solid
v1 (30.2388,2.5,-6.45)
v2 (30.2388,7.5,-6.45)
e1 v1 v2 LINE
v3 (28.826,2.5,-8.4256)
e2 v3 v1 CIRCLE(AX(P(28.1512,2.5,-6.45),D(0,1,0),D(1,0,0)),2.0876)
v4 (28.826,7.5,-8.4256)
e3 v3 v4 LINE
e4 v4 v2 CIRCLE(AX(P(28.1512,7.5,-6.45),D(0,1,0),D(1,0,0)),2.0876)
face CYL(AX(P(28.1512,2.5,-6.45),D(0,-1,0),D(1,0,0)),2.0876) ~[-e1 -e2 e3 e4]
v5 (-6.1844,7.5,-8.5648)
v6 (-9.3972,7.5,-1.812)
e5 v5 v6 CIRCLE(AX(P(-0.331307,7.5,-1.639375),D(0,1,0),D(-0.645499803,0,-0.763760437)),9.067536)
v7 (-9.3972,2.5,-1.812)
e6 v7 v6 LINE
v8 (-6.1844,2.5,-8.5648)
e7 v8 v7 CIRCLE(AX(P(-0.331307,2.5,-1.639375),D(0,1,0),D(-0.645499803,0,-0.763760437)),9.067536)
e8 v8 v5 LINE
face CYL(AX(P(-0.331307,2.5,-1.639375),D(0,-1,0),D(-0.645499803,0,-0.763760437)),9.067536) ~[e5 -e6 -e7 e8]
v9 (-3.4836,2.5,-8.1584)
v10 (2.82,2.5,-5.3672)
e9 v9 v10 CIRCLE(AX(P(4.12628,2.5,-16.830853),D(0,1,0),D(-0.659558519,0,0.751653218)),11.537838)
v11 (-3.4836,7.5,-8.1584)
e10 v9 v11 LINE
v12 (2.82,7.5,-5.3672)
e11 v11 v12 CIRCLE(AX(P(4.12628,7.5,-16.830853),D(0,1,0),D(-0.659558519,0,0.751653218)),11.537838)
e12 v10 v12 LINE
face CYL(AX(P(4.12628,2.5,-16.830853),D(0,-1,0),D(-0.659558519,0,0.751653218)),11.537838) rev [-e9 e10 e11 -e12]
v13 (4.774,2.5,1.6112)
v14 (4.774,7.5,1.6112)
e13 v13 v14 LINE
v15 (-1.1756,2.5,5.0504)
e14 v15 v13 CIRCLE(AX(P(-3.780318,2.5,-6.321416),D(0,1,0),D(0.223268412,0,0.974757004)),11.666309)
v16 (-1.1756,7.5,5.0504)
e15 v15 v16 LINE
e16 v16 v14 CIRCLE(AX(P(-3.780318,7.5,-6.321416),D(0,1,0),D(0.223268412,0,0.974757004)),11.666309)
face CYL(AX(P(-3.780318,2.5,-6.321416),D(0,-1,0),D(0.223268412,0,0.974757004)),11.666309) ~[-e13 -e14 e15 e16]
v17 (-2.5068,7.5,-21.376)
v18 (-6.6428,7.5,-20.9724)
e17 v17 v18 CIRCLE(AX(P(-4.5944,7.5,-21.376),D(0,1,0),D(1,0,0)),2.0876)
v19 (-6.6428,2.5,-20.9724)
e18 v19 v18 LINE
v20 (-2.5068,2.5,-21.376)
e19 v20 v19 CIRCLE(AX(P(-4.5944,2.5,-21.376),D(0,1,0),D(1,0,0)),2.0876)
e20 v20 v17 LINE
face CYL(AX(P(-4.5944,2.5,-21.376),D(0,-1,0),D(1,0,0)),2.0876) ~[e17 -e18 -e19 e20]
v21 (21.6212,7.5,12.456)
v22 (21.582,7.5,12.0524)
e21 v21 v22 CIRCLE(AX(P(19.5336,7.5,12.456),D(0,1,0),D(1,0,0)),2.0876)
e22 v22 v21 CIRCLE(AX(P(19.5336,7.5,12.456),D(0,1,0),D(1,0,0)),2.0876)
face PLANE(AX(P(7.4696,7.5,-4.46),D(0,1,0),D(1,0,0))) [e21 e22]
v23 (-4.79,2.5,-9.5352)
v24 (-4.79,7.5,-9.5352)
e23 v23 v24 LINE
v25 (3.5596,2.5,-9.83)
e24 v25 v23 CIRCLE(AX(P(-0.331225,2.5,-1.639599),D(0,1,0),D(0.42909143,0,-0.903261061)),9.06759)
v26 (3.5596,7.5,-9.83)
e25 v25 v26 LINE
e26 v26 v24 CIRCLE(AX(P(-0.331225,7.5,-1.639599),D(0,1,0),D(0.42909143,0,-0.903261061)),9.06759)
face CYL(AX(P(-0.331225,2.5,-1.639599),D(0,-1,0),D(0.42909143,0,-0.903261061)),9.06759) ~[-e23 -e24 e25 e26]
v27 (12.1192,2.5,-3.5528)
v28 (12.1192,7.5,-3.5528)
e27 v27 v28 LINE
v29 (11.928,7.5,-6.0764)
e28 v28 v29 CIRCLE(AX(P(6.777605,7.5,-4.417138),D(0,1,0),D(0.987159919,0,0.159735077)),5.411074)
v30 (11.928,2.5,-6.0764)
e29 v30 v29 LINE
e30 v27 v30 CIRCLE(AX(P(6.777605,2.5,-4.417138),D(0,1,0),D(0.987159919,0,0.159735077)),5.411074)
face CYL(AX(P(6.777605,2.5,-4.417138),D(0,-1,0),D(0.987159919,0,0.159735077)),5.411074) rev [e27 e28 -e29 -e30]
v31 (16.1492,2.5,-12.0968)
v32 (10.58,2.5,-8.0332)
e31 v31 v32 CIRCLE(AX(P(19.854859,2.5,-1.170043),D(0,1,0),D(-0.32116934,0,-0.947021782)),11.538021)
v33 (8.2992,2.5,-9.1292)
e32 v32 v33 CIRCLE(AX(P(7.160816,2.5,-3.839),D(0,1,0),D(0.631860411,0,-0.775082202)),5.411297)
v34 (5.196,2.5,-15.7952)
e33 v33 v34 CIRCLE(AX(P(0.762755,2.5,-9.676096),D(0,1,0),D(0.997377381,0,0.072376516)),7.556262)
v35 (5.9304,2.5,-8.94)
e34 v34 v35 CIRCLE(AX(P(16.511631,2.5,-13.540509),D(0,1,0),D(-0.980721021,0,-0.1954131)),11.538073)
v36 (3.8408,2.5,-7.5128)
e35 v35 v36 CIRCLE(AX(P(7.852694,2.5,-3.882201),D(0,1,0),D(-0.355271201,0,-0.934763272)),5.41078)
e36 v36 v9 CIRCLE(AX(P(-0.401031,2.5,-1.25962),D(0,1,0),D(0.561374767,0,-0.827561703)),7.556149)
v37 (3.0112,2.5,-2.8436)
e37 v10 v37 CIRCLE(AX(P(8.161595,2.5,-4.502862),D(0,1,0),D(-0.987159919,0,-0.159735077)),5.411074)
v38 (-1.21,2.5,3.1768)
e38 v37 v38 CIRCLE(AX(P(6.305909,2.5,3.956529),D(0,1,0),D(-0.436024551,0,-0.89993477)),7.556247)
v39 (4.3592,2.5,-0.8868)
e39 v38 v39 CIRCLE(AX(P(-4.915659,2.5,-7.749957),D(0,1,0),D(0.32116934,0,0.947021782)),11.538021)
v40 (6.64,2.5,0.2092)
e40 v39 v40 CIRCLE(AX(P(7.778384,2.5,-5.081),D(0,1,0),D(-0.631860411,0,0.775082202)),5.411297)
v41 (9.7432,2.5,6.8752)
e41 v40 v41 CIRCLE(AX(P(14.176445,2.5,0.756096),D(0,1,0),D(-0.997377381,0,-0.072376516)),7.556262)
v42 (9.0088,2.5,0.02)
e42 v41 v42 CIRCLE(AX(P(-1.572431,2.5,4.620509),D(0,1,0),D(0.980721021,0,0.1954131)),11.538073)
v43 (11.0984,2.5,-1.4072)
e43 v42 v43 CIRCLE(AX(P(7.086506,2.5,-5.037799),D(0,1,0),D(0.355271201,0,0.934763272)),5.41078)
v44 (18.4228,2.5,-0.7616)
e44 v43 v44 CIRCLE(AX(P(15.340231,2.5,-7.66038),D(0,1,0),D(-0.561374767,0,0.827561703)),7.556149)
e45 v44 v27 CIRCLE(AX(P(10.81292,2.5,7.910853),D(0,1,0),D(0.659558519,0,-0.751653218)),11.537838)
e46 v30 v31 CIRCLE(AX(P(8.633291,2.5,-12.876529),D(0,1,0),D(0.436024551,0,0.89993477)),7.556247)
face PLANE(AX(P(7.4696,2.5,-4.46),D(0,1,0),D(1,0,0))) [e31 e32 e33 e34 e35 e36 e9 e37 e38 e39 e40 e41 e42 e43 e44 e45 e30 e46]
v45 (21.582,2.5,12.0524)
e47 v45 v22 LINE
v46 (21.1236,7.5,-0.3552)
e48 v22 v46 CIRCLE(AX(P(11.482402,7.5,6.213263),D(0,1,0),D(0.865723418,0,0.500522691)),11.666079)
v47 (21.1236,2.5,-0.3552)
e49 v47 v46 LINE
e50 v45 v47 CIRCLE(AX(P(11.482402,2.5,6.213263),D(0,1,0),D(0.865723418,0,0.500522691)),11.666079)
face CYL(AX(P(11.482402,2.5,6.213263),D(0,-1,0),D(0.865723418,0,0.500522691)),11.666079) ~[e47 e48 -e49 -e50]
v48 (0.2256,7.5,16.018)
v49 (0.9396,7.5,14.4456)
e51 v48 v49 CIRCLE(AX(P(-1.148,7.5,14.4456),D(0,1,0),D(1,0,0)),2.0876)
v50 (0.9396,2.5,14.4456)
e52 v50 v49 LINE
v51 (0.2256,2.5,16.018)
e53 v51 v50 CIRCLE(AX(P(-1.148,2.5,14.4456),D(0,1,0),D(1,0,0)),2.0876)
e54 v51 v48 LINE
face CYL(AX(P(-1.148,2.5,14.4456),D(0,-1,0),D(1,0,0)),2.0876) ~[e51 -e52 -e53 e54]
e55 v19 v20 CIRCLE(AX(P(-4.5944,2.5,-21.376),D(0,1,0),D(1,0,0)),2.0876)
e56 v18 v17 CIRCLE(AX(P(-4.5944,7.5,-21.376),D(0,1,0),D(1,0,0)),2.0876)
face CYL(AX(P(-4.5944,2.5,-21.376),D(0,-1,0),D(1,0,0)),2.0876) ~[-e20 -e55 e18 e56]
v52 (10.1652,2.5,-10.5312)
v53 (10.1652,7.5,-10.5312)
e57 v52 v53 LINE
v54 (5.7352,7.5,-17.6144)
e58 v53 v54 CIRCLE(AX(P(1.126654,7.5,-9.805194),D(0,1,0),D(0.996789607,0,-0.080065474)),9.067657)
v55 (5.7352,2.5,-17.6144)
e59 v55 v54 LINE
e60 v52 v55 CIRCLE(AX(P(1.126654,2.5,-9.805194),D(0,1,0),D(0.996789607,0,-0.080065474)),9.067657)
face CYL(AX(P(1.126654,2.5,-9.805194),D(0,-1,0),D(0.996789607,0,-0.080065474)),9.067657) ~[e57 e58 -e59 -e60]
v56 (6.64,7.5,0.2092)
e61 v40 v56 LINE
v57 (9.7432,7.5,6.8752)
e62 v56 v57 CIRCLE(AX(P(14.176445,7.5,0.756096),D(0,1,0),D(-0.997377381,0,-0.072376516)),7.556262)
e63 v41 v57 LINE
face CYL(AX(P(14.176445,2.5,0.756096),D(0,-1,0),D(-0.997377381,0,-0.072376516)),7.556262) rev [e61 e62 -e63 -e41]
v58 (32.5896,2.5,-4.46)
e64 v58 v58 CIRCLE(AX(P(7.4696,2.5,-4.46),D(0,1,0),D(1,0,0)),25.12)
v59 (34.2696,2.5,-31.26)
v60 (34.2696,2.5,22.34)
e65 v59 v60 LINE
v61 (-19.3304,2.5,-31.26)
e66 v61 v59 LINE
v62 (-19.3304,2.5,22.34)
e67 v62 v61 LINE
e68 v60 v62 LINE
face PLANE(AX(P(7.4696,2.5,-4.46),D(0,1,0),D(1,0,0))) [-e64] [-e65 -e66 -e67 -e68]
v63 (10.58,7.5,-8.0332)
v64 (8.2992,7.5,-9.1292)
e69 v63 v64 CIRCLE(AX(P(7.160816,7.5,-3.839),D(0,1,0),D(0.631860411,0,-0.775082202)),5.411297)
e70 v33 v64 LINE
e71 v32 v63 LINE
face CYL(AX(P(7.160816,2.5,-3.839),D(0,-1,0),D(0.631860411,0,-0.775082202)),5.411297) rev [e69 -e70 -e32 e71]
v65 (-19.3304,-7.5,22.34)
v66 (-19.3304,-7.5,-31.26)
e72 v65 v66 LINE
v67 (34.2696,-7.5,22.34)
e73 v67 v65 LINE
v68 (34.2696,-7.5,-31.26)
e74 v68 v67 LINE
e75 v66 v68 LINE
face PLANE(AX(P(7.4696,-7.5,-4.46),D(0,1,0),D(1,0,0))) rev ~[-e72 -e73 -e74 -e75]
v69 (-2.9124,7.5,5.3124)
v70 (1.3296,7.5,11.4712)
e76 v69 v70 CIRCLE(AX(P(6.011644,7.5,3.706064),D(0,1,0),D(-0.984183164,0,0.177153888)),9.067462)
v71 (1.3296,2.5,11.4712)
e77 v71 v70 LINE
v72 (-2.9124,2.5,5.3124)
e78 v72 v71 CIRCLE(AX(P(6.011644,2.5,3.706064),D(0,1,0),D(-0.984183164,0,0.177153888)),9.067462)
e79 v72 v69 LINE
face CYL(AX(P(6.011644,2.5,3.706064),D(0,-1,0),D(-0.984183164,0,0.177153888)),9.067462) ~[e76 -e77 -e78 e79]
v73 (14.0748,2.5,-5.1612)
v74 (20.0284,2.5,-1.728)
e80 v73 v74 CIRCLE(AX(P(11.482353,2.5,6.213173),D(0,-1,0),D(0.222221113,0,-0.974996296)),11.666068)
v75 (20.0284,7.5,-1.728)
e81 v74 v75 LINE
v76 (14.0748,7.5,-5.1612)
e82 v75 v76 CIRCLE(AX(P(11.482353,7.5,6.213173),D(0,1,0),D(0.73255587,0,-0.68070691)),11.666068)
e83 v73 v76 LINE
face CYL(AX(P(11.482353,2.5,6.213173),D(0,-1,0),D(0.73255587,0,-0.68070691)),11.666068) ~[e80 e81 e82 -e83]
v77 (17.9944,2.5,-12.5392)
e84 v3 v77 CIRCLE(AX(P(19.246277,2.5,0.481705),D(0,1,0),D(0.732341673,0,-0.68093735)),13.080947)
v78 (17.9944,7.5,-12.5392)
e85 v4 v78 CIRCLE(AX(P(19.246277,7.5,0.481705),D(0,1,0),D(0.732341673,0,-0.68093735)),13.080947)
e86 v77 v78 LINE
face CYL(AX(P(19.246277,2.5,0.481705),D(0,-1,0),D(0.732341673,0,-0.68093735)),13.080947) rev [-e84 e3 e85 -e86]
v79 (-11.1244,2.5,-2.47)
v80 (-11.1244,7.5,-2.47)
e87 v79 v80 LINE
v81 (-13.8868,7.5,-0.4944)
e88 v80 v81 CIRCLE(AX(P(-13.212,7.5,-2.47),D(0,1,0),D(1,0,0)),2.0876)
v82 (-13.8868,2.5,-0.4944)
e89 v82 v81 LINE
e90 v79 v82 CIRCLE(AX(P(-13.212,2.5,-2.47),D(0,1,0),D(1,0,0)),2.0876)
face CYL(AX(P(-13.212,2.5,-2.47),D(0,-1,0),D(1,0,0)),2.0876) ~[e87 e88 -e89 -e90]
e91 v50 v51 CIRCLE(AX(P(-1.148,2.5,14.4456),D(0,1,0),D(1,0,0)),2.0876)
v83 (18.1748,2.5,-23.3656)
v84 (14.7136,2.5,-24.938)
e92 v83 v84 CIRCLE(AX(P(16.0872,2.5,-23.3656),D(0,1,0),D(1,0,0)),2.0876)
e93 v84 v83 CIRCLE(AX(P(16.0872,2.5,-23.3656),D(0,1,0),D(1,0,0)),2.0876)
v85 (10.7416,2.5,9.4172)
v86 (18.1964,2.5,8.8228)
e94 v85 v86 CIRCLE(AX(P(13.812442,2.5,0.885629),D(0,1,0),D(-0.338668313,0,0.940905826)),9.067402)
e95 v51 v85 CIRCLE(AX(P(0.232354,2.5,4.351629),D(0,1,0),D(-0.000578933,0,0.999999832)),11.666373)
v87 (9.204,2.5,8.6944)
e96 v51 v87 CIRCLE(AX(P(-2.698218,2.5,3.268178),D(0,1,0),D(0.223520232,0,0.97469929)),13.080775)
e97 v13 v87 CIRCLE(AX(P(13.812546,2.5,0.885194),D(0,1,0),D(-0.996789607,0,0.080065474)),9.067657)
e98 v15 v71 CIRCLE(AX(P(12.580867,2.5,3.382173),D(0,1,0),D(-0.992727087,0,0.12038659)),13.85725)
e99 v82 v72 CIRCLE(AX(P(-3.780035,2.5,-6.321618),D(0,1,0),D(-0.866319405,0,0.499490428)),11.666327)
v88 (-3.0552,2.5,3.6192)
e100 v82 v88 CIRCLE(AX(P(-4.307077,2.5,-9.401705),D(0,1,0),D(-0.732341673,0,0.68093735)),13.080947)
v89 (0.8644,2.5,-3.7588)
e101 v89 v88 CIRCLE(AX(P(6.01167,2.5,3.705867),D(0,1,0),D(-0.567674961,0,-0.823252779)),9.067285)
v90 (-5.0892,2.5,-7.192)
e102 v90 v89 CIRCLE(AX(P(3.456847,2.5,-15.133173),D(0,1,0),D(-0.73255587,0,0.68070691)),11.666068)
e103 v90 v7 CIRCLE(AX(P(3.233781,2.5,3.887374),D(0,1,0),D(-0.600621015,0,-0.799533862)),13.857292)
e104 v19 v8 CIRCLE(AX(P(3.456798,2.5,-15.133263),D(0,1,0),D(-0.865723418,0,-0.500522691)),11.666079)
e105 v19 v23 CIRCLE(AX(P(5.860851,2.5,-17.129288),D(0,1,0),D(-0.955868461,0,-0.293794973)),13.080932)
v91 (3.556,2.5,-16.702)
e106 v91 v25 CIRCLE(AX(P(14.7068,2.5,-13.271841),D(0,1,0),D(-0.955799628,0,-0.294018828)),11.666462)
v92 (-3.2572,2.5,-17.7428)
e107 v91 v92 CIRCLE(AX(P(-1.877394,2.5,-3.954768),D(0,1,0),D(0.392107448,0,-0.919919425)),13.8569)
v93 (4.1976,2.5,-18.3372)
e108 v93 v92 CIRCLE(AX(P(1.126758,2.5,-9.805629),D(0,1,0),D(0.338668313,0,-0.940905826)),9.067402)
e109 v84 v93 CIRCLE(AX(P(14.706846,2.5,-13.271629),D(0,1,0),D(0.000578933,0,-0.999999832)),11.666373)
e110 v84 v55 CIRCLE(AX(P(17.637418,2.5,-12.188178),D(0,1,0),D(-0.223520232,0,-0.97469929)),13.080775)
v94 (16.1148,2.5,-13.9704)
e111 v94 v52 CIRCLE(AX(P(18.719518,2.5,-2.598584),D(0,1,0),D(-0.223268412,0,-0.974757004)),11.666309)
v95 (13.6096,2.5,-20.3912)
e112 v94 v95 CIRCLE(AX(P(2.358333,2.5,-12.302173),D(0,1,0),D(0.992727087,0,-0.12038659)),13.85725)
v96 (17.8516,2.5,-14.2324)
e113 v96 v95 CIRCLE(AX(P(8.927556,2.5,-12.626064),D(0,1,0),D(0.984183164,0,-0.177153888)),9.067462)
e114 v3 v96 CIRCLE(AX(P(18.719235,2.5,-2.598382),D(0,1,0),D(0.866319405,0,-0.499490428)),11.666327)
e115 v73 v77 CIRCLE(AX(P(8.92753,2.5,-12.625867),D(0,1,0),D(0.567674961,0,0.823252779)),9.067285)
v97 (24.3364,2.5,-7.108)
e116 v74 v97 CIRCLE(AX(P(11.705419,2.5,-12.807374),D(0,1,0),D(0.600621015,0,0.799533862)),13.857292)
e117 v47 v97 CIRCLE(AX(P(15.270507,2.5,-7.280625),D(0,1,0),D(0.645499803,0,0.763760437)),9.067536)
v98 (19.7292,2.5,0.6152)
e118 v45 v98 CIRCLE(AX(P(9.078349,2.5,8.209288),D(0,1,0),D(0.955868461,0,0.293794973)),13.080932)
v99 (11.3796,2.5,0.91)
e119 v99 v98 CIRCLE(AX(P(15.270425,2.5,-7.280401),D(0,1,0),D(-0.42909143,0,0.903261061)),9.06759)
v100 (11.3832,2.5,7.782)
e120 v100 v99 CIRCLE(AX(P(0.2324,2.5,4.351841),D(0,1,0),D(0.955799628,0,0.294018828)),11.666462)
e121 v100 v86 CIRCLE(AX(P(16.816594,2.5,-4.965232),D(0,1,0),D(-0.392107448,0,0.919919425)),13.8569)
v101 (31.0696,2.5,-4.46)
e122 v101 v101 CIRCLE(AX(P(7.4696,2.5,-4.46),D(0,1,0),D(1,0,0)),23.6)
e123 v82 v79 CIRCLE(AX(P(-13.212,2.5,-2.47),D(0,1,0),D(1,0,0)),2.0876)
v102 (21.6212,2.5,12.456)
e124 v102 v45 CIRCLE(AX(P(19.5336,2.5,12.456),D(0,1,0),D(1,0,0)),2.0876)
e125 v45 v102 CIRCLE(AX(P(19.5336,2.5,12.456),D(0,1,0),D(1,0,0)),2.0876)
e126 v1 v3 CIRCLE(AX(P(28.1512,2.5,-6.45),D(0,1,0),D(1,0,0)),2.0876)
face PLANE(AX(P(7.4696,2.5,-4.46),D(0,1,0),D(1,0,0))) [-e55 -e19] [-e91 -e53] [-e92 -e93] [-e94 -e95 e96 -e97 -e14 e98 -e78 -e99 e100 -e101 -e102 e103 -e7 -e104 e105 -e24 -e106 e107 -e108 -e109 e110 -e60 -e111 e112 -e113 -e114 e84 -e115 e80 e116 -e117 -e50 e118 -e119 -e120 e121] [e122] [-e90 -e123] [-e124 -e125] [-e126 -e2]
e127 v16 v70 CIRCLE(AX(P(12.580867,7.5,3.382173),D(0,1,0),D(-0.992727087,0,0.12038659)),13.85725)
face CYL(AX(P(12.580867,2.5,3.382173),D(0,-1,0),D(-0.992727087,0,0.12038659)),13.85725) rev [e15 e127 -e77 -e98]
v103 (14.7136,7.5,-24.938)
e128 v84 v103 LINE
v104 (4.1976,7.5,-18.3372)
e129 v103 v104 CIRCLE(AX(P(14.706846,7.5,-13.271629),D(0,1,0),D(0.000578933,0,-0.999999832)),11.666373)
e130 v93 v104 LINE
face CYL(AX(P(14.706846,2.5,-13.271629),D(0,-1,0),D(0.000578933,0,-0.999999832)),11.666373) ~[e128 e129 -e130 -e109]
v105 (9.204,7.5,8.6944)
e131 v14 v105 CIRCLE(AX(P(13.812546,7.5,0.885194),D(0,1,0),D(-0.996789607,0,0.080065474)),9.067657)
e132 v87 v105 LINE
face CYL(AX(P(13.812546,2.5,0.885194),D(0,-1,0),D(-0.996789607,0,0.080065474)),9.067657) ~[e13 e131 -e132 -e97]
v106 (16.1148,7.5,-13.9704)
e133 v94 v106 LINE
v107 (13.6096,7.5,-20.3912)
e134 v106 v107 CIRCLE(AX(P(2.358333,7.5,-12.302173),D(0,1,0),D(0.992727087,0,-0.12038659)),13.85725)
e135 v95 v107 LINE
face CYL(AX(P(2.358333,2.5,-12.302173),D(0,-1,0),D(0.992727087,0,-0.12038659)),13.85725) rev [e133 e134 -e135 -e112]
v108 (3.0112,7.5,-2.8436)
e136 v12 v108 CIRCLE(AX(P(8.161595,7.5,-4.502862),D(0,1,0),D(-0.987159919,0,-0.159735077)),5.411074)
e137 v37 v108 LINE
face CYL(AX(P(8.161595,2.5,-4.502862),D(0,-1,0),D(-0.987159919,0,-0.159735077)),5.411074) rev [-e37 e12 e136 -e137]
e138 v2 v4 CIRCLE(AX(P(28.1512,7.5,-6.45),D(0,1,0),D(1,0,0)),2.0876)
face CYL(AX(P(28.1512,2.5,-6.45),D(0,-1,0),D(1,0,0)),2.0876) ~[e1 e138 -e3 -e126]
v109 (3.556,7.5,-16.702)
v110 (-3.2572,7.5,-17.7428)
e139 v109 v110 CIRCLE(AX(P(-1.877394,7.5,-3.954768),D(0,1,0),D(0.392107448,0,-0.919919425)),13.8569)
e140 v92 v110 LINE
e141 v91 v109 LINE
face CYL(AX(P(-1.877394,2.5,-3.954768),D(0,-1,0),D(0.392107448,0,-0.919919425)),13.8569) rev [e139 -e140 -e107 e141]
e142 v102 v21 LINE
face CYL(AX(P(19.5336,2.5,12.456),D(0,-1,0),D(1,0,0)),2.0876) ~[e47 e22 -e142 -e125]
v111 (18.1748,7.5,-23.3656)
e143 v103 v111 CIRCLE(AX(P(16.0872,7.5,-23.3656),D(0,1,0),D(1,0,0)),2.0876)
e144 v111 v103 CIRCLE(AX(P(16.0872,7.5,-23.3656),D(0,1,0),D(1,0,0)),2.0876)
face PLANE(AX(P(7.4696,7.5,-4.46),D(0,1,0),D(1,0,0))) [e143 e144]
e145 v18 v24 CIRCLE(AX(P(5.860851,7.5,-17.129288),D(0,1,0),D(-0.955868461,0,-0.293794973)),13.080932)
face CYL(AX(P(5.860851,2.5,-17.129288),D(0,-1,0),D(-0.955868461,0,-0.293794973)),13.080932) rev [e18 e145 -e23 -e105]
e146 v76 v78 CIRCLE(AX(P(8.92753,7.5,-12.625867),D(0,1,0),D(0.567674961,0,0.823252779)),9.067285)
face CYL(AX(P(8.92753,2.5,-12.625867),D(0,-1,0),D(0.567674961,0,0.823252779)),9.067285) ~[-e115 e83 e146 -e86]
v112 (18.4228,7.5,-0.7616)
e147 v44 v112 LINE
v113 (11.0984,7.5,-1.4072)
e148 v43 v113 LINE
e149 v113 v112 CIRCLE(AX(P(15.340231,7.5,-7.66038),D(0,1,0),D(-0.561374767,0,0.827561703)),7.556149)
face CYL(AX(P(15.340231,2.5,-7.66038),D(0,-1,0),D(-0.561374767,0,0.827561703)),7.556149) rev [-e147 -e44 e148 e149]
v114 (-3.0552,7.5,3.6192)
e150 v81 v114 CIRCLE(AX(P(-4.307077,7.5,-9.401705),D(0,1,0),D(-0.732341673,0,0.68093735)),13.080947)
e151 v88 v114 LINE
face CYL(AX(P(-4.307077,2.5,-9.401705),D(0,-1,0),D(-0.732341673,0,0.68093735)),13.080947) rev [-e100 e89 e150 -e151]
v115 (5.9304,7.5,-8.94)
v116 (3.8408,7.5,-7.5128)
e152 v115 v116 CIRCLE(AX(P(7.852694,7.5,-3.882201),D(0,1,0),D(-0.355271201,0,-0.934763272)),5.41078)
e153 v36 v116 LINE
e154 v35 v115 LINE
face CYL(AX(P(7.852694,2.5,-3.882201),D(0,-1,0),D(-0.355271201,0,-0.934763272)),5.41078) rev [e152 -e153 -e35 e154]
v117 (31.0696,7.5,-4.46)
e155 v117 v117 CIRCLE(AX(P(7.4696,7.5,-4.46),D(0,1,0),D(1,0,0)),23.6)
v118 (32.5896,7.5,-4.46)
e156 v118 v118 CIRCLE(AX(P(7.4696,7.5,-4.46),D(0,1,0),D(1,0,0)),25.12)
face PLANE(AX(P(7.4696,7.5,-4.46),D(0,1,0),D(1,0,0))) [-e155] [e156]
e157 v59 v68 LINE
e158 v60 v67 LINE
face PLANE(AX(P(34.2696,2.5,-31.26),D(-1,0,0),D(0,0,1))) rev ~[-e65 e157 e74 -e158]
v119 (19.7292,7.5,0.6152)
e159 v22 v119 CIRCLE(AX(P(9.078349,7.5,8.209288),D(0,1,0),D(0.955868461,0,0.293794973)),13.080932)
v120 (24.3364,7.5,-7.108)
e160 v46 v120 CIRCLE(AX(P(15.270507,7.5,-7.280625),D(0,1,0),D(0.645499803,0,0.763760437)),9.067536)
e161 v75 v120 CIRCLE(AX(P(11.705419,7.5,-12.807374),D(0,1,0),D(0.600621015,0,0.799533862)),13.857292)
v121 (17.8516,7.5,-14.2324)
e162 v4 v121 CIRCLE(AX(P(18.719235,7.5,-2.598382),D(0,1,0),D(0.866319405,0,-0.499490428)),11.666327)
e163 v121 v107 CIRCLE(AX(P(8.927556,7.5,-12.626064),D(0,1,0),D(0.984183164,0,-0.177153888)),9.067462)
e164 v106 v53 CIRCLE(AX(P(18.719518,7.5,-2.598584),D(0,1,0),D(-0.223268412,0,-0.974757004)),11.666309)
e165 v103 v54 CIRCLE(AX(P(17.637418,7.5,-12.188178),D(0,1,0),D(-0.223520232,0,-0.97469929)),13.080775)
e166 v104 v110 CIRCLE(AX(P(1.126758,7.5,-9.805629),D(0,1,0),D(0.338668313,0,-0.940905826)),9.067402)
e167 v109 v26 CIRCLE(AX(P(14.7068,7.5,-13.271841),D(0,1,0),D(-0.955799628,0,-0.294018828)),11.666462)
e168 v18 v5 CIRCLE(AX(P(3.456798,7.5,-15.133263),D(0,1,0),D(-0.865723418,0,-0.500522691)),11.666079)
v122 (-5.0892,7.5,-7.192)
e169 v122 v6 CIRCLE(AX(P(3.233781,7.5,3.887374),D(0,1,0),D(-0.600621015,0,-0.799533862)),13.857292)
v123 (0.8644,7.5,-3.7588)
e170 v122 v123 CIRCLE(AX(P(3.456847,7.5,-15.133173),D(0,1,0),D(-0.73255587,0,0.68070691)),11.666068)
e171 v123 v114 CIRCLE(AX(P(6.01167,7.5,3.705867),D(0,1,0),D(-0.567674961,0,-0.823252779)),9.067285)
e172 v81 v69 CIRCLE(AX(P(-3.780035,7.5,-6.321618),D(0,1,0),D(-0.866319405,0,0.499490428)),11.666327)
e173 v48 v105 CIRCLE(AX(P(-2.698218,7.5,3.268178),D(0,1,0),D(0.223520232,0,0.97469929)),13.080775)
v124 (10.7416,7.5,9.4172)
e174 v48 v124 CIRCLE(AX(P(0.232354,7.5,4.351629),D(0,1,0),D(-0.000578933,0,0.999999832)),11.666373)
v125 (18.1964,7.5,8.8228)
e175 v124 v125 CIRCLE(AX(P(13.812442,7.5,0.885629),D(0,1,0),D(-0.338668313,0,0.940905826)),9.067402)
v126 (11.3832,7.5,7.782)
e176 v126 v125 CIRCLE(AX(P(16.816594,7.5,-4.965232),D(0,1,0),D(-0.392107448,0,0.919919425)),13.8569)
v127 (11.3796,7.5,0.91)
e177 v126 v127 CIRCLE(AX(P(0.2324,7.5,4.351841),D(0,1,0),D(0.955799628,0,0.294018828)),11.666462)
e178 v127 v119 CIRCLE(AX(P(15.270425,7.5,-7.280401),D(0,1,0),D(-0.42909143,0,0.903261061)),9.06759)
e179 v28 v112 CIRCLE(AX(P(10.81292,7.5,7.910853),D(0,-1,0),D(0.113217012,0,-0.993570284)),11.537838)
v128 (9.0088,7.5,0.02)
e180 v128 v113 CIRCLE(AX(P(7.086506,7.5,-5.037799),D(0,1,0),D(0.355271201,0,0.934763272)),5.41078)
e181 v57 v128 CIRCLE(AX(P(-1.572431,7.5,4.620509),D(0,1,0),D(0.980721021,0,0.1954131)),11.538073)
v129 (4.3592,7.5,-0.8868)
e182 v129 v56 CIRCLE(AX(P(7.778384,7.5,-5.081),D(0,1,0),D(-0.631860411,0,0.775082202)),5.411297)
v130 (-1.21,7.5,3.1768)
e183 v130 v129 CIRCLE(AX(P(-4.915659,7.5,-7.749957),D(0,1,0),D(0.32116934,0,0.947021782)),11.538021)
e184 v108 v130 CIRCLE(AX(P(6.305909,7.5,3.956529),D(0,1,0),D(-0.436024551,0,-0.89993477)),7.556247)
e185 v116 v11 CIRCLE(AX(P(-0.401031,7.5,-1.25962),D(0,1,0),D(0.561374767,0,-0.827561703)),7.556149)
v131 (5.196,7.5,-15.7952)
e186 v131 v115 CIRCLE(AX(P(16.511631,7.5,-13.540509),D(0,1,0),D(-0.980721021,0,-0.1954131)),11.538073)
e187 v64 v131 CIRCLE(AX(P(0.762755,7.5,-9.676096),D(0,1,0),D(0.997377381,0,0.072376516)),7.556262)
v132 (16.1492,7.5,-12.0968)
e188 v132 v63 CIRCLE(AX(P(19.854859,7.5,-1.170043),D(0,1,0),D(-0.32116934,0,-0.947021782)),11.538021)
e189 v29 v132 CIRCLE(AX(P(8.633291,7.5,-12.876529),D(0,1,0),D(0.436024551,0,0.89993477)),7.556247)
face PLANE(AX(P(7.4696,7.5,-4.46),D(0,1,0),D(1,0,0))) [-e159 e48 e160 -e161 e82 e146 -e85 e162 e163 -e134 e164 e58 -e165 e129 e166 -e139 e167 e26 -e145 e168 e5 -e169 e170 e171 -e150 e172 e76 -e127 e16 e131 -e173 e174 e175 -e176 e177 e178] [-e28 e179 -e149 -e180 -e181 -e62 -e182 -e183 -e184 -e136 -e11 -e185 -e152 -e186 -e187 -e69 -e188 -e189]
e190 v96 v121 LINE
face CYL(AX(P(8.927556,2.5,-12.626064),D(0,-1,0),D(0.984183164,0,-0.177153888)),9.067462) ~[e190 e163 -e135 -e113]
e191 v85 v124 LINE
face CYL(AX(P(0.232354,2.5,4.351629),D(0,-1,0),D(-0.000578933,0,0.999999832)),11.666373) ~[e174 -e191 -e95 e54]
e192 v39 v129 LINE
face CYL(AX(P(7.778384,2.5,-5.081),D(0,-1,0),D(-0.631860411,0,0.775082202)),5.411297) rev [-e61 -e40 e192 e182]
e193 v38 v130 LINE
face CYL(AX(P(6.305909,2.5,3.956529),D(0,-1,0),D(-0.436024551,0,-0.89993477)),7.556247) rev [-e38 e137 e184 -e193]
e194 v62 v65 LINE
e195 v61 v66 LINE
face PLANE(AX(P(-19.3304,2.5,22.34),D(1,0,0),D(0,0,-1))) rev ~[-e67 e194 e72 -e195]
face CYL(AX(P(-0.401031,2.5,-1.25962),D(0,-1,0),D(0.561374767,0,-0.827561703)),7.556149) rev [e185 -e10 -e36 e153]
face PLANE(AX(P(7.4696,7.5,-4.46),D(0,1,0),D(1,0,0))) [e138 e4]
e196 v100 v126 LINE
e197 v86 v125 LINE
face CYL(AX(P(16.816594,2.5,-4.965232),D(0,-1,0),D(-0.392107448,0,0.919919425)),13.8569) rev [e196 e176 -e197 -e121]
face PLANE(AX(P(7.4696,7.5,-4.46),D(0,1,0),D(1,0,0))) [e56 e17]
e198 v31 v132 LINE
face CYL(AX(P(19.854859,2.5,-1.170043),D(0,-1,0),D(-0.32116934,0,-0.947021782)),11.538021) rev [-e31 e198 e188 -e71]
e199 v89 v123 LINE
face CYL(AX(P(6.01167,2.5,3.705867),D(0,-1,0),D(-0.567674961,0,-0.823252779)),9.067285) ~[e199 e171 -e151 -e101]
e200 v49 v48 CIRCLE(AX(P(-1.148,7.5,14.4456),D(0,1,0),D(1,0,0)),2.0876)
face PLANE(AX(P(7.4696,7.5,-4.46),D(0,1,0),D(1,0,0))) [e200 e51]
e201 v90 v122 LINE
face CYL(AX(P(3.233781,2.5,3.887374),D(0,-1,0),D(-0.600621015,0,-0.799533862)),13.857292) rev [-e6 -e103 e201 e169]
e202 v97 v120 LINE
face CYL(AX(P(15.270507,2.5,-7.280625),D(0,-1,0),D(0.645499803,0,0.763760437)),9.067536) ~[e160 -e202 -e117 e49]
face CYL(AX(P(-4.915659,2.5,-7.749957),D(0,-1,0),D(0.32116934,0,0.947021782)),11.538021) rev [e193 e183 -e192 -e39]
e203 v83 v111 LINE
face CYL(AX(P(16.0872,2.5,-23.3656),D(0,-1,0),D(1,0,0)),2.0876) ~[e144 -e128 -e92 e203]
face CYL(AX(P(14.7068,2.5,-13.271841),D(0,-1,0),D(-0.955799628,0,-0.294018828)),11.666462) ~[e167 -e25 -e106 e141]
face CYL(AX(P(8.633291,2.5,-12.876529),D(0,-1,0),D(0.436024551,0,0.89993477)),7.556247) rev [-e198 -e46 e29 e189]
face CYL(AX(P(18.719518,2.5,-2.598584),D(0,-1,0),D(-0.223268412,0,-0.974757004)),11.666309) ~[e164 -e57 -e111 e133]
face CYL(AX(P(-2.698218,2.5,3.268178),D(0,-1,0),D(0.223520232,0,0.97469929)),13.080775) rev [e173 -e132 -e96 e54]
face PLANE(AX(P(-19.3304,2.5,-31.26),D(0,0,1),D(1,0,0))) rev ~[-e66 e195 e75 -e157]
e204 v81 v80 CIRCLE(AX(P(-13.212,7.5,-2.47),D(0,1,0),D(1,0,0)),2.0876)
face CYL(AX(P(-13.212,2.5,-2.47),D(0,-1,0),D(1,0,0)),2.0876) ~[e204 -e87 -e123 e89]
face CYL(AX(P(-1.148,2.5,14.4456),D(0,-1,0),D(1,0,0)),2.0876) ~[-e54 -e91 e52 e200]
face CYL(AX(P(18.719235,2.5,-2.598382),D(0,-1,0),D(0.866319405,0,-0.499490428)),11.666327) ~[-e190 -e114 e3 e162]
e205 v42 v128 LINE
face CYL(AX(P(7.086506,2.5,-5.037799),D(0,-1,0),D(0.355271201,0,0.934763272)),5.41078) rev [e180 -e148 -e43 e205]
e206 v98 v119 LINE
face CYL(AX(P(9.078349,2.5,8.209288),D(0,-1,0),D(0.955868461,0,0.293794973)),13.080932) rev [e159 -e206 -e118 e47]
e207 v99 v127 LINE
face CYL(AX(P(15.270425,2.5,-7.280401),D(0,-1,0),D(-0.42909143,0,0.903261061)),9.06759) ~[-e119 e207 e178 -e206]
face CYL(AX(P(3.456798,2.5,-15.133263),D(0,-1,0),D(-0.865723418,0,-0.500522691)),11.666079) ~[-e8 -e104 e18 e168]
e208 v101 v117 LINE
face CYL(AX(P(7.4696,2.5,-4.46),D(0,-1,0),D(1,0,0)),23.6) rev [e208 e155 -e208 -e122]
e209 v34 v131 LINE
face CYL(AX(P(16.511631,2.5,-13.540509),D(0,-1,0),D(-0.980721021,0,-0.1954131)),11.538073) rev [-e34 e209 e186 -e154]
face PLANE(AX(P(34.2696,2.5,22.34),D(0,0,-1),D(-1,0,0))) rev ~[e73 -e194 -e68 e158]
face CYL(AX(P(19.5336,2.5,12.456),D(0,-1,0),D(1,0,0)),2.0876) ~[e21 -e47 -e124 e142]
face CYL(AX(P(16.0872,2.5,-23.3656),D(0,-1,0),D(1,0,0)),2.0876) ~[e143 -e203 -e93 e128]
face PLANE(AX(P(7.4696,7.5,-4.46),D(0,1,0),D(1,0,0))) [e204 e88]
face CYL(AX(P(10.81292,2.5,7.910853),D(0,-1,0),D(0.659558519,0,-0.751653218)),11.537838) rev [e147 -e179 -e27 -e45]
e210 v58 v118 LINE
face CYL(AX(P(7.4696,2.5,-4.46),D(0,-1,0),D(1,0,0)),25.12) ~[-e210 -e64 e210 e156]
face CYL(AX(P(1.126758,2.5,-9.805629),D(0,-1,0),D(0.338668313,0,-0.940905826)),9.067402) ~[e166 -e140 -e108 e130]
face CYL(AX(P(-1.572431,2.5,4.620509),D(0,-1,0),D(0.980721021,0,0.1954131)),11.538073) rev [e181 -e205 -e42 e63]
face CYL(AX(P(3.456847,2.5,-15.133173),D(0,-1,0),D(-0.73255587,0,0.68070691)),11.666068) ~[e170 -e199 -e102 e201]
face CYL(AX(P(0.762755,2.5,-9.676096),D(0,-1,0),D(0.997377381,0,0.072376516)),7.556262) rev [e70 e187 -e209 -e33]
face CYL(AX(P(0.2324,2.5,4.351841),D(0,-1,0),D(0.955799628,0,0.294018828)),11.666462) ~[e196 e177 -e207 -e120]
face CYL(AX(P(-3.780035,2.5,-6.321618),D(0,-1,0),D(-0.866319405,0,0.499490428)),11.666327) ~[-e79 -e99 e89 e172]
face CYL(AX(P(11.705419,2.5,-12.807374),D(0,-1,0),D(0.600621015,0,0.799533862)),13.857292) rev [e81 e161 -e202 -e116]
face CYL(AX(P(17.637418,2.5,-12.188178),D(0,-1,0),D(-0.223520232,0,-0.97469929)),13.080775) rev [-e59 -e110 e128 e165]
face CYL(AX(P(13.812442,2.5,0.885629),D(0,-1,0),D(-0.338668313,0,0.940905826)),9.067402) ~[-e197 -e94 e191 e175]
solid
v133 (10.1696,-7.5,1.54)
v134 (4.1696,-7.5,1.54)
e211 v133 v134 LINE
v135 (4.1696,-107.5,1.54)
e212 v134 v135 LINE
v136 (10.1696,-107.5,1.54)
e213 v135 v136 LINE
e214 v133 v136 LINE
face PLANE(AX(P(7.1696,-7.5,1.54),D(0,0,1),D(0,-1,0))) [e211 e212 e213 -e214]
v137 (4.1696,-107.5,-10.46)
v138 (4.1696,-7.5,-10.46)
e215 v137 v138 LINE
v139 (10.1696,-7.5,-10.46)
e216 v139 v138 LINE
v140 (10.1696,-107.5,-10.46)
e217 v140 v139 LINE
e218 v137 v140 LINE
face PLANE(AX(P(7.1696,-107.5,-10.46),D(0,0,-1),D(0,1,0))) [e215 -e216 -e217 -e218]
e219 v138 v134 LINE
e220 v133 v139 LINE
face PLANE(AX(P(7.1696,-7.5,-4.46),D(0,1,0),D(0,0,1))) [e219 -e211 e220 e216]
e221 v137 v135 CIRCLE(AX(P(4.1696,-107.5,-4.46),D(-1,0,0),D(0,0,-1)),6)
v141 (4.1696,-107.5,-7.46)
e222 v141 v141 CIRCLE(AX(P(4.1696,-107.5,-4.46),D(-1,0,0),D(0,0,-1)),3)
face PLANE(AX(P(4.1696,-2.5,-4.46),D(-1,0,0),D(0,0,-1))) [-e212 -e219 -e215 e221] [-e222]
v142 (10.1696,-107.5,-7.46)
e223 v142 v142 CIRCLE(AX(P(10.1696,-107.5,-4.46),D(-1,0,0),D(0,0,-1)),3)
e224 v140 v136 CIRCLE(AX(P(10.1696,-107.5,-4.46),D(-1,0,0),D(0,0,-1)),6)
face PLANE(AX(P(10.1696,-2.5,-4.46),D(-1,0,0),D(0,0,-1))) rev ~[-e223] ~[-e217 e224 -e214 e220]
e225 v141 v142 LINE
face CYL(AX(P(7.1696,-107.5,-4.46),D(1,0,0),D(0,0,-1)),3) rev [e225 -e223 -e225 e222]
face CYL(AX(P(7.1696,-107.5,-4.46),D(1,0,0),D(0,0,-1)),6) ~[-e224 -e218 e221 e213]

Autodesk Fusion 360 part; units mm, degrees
sketch "Sketch1" plane through (0, 0, 0) normal (0, 1, 0) x (1, 0, 0)
  arc A0 (0.3848, -1.12) -> (0.9072, -0.7632) centre (-0.0957, 0.1445) ccw
  arc A1 (3.1397, -0.683) -> (4.2167, 0.662) centre (1.059, 2.0869) ccw
  arc A2 (0.9072, -0.7632) -> (2.7383, -0.9246) centre (1.9676, 0.8001) ccw
  arc A3 (3.0458, -0.7511) -> (3.0474, -0.7499) centre (2.7604, -0.3405) ccw
  arc A4 (-1.811, -5.1195) -> (0.4336, -3.2886) centre (-2.5419, -1.932) ccw
  arc A5 (3.5281, -4.1281) -> (3.0649, -1.2688) centre (0.4022, -3.1674) ccw
  arc A6 (1.1624, -0.2268) -> (1.1146, 0.4041) centre (-0.173, -0.0107) ccw
  arc A7 (1.1146, 0.4041) -> (2.1699, 1.9092) centre (0.2909, 2.1041) ccw
  arc A8 (5.3391, 0.9914) -> (2.6312, 2.0198) centre (2.9441, -1.2354) ccw
  arc A9 (0.7776, 0.8933) -> (0.2074, 1.1673) centre (-0.0773, -0.1552) ccw
  arc A10 (0.2074, 1.1673) -> (-0.5684, 2.8338) centre (-1.6767, 1.304) ccw
  arc A11 (-0.9784, 3.0605) -> (-2.6817, 3.3207) centre (-2.3368, -0.1263) ccw
  arc A12 (1.811, 5.1195) -> (-0.4336, 3.2886) centre (2.5419, 1.932) ccw
  arc A13 (-0.3848, 1.12) -> (-0.9072, 0.7632) centre (0.0957, -0.1445) ccw
  arc A14 (-0.9072, 0.7632) -> (-2.7383, 0.9246) centre (-1.9676, -0.8001) ccw
  arc A15 (-3.1397, 0.683) -> (-4.2167, -0.662) centre (-1.059, -2.0869) ccw
  arc A16 (-3.5281, 4.1281) -> (-3.0649, 1.2688) centre (-0.4022, 3.1674) ccw
  arc A17 (-1.1624, 0.2268) -> (-1.1146, -0.4041) centre (0.173, 0.0107) ccw
  arc A18 (-1.1146, -0.4041) -> (-2.1699, -1.9092) centre (-0.2909, -2.1041) ccw
  arc A19 (-2.1613, -2.3776) -> (-1.535, -3.9828) centre (1.2778, -1.9605) ccw
  arc A20 (-5.3391, -0.9914) -> (-2.6312, -2.0198) centre (-2.9441, 1.2354) ccw
  arc A21 (-0.7776, -0.8933) -> (-0.2074, -1.1673) centre (0.0773, 0.1552) ccw
  arc A22 (-0.2074, -1.1673) -> (0.5684, -2.8338) centre (1.6767, -1.304) ccw
  arc A23 (0.9784, -3.0605) -> (2.6817, -3.3207) centre (2.3368, 0.1263) ccw
  arc A24 (0.5684, -2.8338) -> (0.3848, -1.12) centre (-2.2605, -2.2702) ccw
  arc A25 (-2.1699, -1.9092) -> (-0.7776, -0.8933) centre (-3.0963, 0.8225) ccw
  arc A26 (-2.7383, 0.9246) -> (-1.1624, 0.2268) centre (-0.8358, 3.0927) ccw
  arc A27 (-0.5684, 2.8338) -> (-0.3848, 1.12) centre (2.2605, 2.2702) ccw
  arc A28 (2.1699, 1.9092) -> (0.7776, 0.8933) centre (3.0963, -0.8225) ccw
  arc A29 (2.7383, -0.9246) -> (1.1624, -0.2268) centre (0.8358, -3.0927) ccw
  line L0 (6.7, -6.7) -> (-6.7, -6.7)
  line L1 (-6.7, -6.7) -> (-6.7, 6.7)
  line L2 (-6.7, 6.7) -> (6.7, 6.7)
  line L3 (6.7, 6.7) -> (6.7, -6.7)
  arc A30 (-0.6739, -1.5178) -> (0.4336, -3.2886) centre (1.5858, -1.3364) ccw
  arc A31 (0.818, -3.4693) -> (2.6817, -3.3207) centre (1.5858, -1.3364) ccw
  arc A32 (-1.811, -5.1195) -> (0.818, -3.4693) centre (-1.8093, -2.2029) ccw
  arc A33 (0.9784, -3.0605) -> (0.9775, -1.3425) centre (-1.8093, -2.2029) ccw
  arc A34 (0.9775, -1.3425) -> (3.0649, -1.2688) centre (1.9502, 0.7051) ccw
  arc A35 (3.4135, -1.0262) -> (4.2167, 0.662) centre (1.9502, 0.7051) ccw
  arc A36 (3.1397, -0.683) -> (1.6513, 0.1753) centre (1.0032, -2.6683) ccw
  arc A37 (3.5281, -4.1281) -> (3.4135, -1.0262) centre (1.0032, -2.6683) ccw
  arc A38 (1.6513, 0.1753) -> (2.6312, 2.0198) centre (0.3645, 2.0415) ccw
  arc A39 (2.5955, 2.4431) -> (1.535, 3.9828) centre (0.3645, 2.0415) ccw
  arc A40 (2.1613, 2.3776) -> (0.6739, 1.5178) centre (2.8124, -0.4654) ccw
  arc A41 (5.3391, 0.9914) -> (2.5955, 2.4431) centre (2.8124, -0.4654) ccw
  arc A42 (0.6739, 1.5178) -> (-0.4336, 3.2886) centre (-1.5858, 1.3364) ccw
  arc A43 (-0.818, 3.4693) -> (-2.6817, 3.3207) centre (-1.5858, 1.3364) ccw
  arc A44 (-0.9784, 3.0605) -> (-0.9775, 1.3425) centre (1.8093, 2.2029) ccw
  arc A45 (1.811, 5.1195) -> (-0.818, 3.4693) centre (1.8093, 2.2029) ccw
  arc A46 (-0.9775, 1.3425) -> (-3.0649, 1.2688) centre (-1.9502, -0.7051) ccw
  arc A47 (-3.4135, 1.0262) -> (-4.2167, -0.662) centre (-1.9502, -0.7051) ccw
  arc A48 (-3.1397, 0.683) -> (-1.6513, -0.1753) centre (-1.0032, 2.6683) ccw
  arc A49 (-3.5281, 4.1281) -> (-3.4135, 1.0262) centre (-1.0032, 2.6683) ccw
  arc A50 (-1.6513, -0.1753) -> (-2.6312, -2.0198) centre (-0.3645, -2.0415) ccw
  arc A51 (-2.5955, -2.4431) -> (-1.535, -3.9828) centre (-0.3645, -2.0415) ccw
  arc A52 (-2.1613, -2.3776) -> (-0.6739, -1.5178) centre (-2.8124, 0.4654) ccw
  arc A53 (-5.3391, -0.9914) -> (-2.5955, -2.4431) centre (-2.8124, 0.4654) ccw
  arc A54 (2.1613, 2.3776) -> (1.535, 3.9828) centre (-1.2778, 1.9605) ccw
  circle A55 centre (3.016, -4.229) radius 0.5219
  circle A56 centre (5.1704, 0.4975) radius 0.5219
  circle A57 centre (2.1544, 4.7264) radius 0.5219
  circle A58 centre (-3.016, 4.229) radius 0.5219
  circle A59 centre (-5.1704, -0.4975) radius 0.5219
  circle A60 centre (-2.1544, -4.7264) radius 0.5219
  circle A61 centre (0, 0) radius 5.9
  circle A62 centre (0, 0) radius 6.28
  dimension "d1" = 0.5
  dimension "d9" = 13.4
  dimension "d10" = 13.4
  dimension "d15" = 6.7
  dimension "d23" = 360
  dimension "d25" = 11.8
  dimension "d26" = 12.56
  dimension "d27" = 6.7
extrude "Extrude1" add sketch "Sketch1" along normal blind 1.25 contours A0 A1 A2 A3 A4 A5 A6 A7 A8 A9 A10 A11 A12 A13 A14 A15 A16 A17 A18 A19 A20 A21 A22 A23 A24 A25 A26 A27 A28 A29 A30 A31 A32 A33 A34 A35 A36 A37 A38 A39 A40 A41 A42 A43 A44 A45 A46 A47 A48 A49 A50 A51 A52 A53 A54 | A3 A29 A36 | A55 | A60 | A59 | A58 | A57 | A56 | A62 makes body 1 at (-2.3208, 0, 2.1022) makes body 2 at (6.2722, 0.8333, 0.313)
extrude "Extrude2" add sketch "Sketch1" against normal blind 2.5 contours A0 A2 A3 A6 A7 A9 A10 A13 A14 A17 A18 A21 A22 A24 A25 A26 A27 A28 A29 | A0 A1 A2 A3 A4 A5 A6 A7 A8 A9 A10 A11 A12 A13 A14 A15 A16 A17 A18 A19 A20 A21 A22 A23 A24 A25 A26 A27 A28 A29 A30 A31 A32 A33 A34 A35 A36 A37 A38 A39 A40 A41 A42 A43 A44 A45 A46 A47 A48 A49 A50 A51 A52 A53 A54 | A3 A29 A36 | A3 A29 | A3 A36 | A55 | A60 | A59 | A58 | A57 | A56 | L0 L1 L2 L3 | A61 | A62 bodies 2 1
scale "Scale1" factor 2 about (-6.7, -2.5, 6.7) bodies 2
scale "Scale2" factor 2 about (5.9304, 2.5, -8.94) bodies 2
sketch "Sketch2" plane through (0, 2.5, 0) normal (0, 1, 0) x (-1, 0, 0)
  arc A0 (-18.4229, -0.7616) -> (-12.1191, -3.5529) centre (-10.8129, 7.911) ccw
  arc A1 (-12.1191, -3.5529) -> (-11.928, -6.0762) centre (-6.7775, -4.4173) ccw
  arc A2 (-11.928, -6.0762) -> (-16.1492, -12.0967) centre (-8.6334, -12.8762) ccw
  arc A3 (-16.1492, -12.0967) -> (-10.5798, -8.033) centre (-19.8548, -1.1699) ccw
  arc A4 (-10.5798, -8.033) -> (-8.2991, -9.1292) centre (-7.1605, -3.8393) ccw
  arc A5 (-8.2991, -9.1292) -> (-5.1958, -15.795) centre (-0.7628, -9.676) ccw
  arc A6 (-5.1958, -15.795) -> (-5.9304, -8.94) centre (-16.5115, -13.5408) ccw
  arc A7 (-5.9304, -8.94) -> (-3.8407, -7.5129) centre (-7.8526, -3.8819) ccw
  arc A8 (-3.8407, -7.5129) -> (3.4837, -8.1583) centre (0.401, -1.2597) ccw
  arc A9 (3.4837, -8.1583) -> (-2.8202, -5.367) centre (-4.1263, -16.8309) ccw
  arc A10 (-2.8202, -5.367) -> (-3.0112, -2.8437) centre (-8.1617, -4.5026) ccw
  arc A11 (-3.0112, -2.8437) -> (1.2099, 3.1767) centre (-6.3058, 3.9563) ccw
  arc A12 (1.2099, 3.1767) -> (-4.3594, -0.8869) centre (4.9156, -7.7501) ccw
  arc A13 (-4.3594, -0.8869) -> (-6.6401, 0.2092) centre (-7.7787, -5.0806) ccw
  arc A14 (-6.6401, 0.2092) -> (-9.7434, 6.8751) centre (-14.1764, 0.756) ccw
  arc A15 (-9.7434, 6.8751) -> (-9.0088, 0.0201) centre (1.5723, 4.6208) ccw
  arc A16 (-9.0088, 0.0201) -> (-11.0985, -1.407) centre (-7.0866, -5.038) ccw
  arc A17 (-11.0985, -1.407) -> (-18.4229, -0.7616) centre (-15.3402, -7.6602) ccw
sketch "Sketch3" plane through (0, -7.5, 0) normal (0, -1, 0) x (1, 0, 0)
  line L0 (-19.3304, -31.26) -> (34.2696, -31.26)
  line L1 (34.2696, -31.26) -> (34.2696, 22.34)
  line L2 (34.2696, 22.34) -> (-19.3304, 22.34)
  line L3 (-19.3304, 22.34) -> (-19.3304, -31.26)
  line L4 (10.4696, 10.54) -> (4.4696, 10.54)
  line L5 (4.4696, 10.54) -> (4.4696, -19.46)
  line L6 (4.4696, -19.46) -> (10.4696, -19.46)
  line L7 (10.4696, -19.46) -> (10.4696, 10.54)
  point P0 (7.4696, -4.46)
  dimension "d28" = 6
  dimension "d29" = 30
ref_plane "WorkPlane1" through (7.1696, -2.5, -4.46) normal (-1, 0, 0) x (0, 0, -1)
sketch "Sketch4" plane through (7.1696, -2.5, -4.46) normal (-1, 0, 0) x (0, 0, -1)
  line L0 (-26.8, -5) -> (26.8, -5)
  line L1 (26.8, -5) -> (26.8, 5)
  line L2 (26.8, 5) -> (-26.8, 5)
  line L3 (-26.8, 5) -> (-26.8, -5)
  line L4 (0, 5) -> (-6, 5)
  line L5 (-6, 5) -> (-6, 105)
  line L6 (6, 105) -> (6, 5)
  circle A0 centre (0, 105) radius 3
  arc A1 (6, 105) -> (-6, 105) centre (0, 105) ccw
  dimension "d31" = 6
  dimension "d32" = 100
  dimension "d33" = 12
  dimension "d34" = 6
extrude "Extrude3" add sketch "Sketch4" along normal mid plane 6 separate body contours L2 L4 L5 L6 A1 makes body 3
